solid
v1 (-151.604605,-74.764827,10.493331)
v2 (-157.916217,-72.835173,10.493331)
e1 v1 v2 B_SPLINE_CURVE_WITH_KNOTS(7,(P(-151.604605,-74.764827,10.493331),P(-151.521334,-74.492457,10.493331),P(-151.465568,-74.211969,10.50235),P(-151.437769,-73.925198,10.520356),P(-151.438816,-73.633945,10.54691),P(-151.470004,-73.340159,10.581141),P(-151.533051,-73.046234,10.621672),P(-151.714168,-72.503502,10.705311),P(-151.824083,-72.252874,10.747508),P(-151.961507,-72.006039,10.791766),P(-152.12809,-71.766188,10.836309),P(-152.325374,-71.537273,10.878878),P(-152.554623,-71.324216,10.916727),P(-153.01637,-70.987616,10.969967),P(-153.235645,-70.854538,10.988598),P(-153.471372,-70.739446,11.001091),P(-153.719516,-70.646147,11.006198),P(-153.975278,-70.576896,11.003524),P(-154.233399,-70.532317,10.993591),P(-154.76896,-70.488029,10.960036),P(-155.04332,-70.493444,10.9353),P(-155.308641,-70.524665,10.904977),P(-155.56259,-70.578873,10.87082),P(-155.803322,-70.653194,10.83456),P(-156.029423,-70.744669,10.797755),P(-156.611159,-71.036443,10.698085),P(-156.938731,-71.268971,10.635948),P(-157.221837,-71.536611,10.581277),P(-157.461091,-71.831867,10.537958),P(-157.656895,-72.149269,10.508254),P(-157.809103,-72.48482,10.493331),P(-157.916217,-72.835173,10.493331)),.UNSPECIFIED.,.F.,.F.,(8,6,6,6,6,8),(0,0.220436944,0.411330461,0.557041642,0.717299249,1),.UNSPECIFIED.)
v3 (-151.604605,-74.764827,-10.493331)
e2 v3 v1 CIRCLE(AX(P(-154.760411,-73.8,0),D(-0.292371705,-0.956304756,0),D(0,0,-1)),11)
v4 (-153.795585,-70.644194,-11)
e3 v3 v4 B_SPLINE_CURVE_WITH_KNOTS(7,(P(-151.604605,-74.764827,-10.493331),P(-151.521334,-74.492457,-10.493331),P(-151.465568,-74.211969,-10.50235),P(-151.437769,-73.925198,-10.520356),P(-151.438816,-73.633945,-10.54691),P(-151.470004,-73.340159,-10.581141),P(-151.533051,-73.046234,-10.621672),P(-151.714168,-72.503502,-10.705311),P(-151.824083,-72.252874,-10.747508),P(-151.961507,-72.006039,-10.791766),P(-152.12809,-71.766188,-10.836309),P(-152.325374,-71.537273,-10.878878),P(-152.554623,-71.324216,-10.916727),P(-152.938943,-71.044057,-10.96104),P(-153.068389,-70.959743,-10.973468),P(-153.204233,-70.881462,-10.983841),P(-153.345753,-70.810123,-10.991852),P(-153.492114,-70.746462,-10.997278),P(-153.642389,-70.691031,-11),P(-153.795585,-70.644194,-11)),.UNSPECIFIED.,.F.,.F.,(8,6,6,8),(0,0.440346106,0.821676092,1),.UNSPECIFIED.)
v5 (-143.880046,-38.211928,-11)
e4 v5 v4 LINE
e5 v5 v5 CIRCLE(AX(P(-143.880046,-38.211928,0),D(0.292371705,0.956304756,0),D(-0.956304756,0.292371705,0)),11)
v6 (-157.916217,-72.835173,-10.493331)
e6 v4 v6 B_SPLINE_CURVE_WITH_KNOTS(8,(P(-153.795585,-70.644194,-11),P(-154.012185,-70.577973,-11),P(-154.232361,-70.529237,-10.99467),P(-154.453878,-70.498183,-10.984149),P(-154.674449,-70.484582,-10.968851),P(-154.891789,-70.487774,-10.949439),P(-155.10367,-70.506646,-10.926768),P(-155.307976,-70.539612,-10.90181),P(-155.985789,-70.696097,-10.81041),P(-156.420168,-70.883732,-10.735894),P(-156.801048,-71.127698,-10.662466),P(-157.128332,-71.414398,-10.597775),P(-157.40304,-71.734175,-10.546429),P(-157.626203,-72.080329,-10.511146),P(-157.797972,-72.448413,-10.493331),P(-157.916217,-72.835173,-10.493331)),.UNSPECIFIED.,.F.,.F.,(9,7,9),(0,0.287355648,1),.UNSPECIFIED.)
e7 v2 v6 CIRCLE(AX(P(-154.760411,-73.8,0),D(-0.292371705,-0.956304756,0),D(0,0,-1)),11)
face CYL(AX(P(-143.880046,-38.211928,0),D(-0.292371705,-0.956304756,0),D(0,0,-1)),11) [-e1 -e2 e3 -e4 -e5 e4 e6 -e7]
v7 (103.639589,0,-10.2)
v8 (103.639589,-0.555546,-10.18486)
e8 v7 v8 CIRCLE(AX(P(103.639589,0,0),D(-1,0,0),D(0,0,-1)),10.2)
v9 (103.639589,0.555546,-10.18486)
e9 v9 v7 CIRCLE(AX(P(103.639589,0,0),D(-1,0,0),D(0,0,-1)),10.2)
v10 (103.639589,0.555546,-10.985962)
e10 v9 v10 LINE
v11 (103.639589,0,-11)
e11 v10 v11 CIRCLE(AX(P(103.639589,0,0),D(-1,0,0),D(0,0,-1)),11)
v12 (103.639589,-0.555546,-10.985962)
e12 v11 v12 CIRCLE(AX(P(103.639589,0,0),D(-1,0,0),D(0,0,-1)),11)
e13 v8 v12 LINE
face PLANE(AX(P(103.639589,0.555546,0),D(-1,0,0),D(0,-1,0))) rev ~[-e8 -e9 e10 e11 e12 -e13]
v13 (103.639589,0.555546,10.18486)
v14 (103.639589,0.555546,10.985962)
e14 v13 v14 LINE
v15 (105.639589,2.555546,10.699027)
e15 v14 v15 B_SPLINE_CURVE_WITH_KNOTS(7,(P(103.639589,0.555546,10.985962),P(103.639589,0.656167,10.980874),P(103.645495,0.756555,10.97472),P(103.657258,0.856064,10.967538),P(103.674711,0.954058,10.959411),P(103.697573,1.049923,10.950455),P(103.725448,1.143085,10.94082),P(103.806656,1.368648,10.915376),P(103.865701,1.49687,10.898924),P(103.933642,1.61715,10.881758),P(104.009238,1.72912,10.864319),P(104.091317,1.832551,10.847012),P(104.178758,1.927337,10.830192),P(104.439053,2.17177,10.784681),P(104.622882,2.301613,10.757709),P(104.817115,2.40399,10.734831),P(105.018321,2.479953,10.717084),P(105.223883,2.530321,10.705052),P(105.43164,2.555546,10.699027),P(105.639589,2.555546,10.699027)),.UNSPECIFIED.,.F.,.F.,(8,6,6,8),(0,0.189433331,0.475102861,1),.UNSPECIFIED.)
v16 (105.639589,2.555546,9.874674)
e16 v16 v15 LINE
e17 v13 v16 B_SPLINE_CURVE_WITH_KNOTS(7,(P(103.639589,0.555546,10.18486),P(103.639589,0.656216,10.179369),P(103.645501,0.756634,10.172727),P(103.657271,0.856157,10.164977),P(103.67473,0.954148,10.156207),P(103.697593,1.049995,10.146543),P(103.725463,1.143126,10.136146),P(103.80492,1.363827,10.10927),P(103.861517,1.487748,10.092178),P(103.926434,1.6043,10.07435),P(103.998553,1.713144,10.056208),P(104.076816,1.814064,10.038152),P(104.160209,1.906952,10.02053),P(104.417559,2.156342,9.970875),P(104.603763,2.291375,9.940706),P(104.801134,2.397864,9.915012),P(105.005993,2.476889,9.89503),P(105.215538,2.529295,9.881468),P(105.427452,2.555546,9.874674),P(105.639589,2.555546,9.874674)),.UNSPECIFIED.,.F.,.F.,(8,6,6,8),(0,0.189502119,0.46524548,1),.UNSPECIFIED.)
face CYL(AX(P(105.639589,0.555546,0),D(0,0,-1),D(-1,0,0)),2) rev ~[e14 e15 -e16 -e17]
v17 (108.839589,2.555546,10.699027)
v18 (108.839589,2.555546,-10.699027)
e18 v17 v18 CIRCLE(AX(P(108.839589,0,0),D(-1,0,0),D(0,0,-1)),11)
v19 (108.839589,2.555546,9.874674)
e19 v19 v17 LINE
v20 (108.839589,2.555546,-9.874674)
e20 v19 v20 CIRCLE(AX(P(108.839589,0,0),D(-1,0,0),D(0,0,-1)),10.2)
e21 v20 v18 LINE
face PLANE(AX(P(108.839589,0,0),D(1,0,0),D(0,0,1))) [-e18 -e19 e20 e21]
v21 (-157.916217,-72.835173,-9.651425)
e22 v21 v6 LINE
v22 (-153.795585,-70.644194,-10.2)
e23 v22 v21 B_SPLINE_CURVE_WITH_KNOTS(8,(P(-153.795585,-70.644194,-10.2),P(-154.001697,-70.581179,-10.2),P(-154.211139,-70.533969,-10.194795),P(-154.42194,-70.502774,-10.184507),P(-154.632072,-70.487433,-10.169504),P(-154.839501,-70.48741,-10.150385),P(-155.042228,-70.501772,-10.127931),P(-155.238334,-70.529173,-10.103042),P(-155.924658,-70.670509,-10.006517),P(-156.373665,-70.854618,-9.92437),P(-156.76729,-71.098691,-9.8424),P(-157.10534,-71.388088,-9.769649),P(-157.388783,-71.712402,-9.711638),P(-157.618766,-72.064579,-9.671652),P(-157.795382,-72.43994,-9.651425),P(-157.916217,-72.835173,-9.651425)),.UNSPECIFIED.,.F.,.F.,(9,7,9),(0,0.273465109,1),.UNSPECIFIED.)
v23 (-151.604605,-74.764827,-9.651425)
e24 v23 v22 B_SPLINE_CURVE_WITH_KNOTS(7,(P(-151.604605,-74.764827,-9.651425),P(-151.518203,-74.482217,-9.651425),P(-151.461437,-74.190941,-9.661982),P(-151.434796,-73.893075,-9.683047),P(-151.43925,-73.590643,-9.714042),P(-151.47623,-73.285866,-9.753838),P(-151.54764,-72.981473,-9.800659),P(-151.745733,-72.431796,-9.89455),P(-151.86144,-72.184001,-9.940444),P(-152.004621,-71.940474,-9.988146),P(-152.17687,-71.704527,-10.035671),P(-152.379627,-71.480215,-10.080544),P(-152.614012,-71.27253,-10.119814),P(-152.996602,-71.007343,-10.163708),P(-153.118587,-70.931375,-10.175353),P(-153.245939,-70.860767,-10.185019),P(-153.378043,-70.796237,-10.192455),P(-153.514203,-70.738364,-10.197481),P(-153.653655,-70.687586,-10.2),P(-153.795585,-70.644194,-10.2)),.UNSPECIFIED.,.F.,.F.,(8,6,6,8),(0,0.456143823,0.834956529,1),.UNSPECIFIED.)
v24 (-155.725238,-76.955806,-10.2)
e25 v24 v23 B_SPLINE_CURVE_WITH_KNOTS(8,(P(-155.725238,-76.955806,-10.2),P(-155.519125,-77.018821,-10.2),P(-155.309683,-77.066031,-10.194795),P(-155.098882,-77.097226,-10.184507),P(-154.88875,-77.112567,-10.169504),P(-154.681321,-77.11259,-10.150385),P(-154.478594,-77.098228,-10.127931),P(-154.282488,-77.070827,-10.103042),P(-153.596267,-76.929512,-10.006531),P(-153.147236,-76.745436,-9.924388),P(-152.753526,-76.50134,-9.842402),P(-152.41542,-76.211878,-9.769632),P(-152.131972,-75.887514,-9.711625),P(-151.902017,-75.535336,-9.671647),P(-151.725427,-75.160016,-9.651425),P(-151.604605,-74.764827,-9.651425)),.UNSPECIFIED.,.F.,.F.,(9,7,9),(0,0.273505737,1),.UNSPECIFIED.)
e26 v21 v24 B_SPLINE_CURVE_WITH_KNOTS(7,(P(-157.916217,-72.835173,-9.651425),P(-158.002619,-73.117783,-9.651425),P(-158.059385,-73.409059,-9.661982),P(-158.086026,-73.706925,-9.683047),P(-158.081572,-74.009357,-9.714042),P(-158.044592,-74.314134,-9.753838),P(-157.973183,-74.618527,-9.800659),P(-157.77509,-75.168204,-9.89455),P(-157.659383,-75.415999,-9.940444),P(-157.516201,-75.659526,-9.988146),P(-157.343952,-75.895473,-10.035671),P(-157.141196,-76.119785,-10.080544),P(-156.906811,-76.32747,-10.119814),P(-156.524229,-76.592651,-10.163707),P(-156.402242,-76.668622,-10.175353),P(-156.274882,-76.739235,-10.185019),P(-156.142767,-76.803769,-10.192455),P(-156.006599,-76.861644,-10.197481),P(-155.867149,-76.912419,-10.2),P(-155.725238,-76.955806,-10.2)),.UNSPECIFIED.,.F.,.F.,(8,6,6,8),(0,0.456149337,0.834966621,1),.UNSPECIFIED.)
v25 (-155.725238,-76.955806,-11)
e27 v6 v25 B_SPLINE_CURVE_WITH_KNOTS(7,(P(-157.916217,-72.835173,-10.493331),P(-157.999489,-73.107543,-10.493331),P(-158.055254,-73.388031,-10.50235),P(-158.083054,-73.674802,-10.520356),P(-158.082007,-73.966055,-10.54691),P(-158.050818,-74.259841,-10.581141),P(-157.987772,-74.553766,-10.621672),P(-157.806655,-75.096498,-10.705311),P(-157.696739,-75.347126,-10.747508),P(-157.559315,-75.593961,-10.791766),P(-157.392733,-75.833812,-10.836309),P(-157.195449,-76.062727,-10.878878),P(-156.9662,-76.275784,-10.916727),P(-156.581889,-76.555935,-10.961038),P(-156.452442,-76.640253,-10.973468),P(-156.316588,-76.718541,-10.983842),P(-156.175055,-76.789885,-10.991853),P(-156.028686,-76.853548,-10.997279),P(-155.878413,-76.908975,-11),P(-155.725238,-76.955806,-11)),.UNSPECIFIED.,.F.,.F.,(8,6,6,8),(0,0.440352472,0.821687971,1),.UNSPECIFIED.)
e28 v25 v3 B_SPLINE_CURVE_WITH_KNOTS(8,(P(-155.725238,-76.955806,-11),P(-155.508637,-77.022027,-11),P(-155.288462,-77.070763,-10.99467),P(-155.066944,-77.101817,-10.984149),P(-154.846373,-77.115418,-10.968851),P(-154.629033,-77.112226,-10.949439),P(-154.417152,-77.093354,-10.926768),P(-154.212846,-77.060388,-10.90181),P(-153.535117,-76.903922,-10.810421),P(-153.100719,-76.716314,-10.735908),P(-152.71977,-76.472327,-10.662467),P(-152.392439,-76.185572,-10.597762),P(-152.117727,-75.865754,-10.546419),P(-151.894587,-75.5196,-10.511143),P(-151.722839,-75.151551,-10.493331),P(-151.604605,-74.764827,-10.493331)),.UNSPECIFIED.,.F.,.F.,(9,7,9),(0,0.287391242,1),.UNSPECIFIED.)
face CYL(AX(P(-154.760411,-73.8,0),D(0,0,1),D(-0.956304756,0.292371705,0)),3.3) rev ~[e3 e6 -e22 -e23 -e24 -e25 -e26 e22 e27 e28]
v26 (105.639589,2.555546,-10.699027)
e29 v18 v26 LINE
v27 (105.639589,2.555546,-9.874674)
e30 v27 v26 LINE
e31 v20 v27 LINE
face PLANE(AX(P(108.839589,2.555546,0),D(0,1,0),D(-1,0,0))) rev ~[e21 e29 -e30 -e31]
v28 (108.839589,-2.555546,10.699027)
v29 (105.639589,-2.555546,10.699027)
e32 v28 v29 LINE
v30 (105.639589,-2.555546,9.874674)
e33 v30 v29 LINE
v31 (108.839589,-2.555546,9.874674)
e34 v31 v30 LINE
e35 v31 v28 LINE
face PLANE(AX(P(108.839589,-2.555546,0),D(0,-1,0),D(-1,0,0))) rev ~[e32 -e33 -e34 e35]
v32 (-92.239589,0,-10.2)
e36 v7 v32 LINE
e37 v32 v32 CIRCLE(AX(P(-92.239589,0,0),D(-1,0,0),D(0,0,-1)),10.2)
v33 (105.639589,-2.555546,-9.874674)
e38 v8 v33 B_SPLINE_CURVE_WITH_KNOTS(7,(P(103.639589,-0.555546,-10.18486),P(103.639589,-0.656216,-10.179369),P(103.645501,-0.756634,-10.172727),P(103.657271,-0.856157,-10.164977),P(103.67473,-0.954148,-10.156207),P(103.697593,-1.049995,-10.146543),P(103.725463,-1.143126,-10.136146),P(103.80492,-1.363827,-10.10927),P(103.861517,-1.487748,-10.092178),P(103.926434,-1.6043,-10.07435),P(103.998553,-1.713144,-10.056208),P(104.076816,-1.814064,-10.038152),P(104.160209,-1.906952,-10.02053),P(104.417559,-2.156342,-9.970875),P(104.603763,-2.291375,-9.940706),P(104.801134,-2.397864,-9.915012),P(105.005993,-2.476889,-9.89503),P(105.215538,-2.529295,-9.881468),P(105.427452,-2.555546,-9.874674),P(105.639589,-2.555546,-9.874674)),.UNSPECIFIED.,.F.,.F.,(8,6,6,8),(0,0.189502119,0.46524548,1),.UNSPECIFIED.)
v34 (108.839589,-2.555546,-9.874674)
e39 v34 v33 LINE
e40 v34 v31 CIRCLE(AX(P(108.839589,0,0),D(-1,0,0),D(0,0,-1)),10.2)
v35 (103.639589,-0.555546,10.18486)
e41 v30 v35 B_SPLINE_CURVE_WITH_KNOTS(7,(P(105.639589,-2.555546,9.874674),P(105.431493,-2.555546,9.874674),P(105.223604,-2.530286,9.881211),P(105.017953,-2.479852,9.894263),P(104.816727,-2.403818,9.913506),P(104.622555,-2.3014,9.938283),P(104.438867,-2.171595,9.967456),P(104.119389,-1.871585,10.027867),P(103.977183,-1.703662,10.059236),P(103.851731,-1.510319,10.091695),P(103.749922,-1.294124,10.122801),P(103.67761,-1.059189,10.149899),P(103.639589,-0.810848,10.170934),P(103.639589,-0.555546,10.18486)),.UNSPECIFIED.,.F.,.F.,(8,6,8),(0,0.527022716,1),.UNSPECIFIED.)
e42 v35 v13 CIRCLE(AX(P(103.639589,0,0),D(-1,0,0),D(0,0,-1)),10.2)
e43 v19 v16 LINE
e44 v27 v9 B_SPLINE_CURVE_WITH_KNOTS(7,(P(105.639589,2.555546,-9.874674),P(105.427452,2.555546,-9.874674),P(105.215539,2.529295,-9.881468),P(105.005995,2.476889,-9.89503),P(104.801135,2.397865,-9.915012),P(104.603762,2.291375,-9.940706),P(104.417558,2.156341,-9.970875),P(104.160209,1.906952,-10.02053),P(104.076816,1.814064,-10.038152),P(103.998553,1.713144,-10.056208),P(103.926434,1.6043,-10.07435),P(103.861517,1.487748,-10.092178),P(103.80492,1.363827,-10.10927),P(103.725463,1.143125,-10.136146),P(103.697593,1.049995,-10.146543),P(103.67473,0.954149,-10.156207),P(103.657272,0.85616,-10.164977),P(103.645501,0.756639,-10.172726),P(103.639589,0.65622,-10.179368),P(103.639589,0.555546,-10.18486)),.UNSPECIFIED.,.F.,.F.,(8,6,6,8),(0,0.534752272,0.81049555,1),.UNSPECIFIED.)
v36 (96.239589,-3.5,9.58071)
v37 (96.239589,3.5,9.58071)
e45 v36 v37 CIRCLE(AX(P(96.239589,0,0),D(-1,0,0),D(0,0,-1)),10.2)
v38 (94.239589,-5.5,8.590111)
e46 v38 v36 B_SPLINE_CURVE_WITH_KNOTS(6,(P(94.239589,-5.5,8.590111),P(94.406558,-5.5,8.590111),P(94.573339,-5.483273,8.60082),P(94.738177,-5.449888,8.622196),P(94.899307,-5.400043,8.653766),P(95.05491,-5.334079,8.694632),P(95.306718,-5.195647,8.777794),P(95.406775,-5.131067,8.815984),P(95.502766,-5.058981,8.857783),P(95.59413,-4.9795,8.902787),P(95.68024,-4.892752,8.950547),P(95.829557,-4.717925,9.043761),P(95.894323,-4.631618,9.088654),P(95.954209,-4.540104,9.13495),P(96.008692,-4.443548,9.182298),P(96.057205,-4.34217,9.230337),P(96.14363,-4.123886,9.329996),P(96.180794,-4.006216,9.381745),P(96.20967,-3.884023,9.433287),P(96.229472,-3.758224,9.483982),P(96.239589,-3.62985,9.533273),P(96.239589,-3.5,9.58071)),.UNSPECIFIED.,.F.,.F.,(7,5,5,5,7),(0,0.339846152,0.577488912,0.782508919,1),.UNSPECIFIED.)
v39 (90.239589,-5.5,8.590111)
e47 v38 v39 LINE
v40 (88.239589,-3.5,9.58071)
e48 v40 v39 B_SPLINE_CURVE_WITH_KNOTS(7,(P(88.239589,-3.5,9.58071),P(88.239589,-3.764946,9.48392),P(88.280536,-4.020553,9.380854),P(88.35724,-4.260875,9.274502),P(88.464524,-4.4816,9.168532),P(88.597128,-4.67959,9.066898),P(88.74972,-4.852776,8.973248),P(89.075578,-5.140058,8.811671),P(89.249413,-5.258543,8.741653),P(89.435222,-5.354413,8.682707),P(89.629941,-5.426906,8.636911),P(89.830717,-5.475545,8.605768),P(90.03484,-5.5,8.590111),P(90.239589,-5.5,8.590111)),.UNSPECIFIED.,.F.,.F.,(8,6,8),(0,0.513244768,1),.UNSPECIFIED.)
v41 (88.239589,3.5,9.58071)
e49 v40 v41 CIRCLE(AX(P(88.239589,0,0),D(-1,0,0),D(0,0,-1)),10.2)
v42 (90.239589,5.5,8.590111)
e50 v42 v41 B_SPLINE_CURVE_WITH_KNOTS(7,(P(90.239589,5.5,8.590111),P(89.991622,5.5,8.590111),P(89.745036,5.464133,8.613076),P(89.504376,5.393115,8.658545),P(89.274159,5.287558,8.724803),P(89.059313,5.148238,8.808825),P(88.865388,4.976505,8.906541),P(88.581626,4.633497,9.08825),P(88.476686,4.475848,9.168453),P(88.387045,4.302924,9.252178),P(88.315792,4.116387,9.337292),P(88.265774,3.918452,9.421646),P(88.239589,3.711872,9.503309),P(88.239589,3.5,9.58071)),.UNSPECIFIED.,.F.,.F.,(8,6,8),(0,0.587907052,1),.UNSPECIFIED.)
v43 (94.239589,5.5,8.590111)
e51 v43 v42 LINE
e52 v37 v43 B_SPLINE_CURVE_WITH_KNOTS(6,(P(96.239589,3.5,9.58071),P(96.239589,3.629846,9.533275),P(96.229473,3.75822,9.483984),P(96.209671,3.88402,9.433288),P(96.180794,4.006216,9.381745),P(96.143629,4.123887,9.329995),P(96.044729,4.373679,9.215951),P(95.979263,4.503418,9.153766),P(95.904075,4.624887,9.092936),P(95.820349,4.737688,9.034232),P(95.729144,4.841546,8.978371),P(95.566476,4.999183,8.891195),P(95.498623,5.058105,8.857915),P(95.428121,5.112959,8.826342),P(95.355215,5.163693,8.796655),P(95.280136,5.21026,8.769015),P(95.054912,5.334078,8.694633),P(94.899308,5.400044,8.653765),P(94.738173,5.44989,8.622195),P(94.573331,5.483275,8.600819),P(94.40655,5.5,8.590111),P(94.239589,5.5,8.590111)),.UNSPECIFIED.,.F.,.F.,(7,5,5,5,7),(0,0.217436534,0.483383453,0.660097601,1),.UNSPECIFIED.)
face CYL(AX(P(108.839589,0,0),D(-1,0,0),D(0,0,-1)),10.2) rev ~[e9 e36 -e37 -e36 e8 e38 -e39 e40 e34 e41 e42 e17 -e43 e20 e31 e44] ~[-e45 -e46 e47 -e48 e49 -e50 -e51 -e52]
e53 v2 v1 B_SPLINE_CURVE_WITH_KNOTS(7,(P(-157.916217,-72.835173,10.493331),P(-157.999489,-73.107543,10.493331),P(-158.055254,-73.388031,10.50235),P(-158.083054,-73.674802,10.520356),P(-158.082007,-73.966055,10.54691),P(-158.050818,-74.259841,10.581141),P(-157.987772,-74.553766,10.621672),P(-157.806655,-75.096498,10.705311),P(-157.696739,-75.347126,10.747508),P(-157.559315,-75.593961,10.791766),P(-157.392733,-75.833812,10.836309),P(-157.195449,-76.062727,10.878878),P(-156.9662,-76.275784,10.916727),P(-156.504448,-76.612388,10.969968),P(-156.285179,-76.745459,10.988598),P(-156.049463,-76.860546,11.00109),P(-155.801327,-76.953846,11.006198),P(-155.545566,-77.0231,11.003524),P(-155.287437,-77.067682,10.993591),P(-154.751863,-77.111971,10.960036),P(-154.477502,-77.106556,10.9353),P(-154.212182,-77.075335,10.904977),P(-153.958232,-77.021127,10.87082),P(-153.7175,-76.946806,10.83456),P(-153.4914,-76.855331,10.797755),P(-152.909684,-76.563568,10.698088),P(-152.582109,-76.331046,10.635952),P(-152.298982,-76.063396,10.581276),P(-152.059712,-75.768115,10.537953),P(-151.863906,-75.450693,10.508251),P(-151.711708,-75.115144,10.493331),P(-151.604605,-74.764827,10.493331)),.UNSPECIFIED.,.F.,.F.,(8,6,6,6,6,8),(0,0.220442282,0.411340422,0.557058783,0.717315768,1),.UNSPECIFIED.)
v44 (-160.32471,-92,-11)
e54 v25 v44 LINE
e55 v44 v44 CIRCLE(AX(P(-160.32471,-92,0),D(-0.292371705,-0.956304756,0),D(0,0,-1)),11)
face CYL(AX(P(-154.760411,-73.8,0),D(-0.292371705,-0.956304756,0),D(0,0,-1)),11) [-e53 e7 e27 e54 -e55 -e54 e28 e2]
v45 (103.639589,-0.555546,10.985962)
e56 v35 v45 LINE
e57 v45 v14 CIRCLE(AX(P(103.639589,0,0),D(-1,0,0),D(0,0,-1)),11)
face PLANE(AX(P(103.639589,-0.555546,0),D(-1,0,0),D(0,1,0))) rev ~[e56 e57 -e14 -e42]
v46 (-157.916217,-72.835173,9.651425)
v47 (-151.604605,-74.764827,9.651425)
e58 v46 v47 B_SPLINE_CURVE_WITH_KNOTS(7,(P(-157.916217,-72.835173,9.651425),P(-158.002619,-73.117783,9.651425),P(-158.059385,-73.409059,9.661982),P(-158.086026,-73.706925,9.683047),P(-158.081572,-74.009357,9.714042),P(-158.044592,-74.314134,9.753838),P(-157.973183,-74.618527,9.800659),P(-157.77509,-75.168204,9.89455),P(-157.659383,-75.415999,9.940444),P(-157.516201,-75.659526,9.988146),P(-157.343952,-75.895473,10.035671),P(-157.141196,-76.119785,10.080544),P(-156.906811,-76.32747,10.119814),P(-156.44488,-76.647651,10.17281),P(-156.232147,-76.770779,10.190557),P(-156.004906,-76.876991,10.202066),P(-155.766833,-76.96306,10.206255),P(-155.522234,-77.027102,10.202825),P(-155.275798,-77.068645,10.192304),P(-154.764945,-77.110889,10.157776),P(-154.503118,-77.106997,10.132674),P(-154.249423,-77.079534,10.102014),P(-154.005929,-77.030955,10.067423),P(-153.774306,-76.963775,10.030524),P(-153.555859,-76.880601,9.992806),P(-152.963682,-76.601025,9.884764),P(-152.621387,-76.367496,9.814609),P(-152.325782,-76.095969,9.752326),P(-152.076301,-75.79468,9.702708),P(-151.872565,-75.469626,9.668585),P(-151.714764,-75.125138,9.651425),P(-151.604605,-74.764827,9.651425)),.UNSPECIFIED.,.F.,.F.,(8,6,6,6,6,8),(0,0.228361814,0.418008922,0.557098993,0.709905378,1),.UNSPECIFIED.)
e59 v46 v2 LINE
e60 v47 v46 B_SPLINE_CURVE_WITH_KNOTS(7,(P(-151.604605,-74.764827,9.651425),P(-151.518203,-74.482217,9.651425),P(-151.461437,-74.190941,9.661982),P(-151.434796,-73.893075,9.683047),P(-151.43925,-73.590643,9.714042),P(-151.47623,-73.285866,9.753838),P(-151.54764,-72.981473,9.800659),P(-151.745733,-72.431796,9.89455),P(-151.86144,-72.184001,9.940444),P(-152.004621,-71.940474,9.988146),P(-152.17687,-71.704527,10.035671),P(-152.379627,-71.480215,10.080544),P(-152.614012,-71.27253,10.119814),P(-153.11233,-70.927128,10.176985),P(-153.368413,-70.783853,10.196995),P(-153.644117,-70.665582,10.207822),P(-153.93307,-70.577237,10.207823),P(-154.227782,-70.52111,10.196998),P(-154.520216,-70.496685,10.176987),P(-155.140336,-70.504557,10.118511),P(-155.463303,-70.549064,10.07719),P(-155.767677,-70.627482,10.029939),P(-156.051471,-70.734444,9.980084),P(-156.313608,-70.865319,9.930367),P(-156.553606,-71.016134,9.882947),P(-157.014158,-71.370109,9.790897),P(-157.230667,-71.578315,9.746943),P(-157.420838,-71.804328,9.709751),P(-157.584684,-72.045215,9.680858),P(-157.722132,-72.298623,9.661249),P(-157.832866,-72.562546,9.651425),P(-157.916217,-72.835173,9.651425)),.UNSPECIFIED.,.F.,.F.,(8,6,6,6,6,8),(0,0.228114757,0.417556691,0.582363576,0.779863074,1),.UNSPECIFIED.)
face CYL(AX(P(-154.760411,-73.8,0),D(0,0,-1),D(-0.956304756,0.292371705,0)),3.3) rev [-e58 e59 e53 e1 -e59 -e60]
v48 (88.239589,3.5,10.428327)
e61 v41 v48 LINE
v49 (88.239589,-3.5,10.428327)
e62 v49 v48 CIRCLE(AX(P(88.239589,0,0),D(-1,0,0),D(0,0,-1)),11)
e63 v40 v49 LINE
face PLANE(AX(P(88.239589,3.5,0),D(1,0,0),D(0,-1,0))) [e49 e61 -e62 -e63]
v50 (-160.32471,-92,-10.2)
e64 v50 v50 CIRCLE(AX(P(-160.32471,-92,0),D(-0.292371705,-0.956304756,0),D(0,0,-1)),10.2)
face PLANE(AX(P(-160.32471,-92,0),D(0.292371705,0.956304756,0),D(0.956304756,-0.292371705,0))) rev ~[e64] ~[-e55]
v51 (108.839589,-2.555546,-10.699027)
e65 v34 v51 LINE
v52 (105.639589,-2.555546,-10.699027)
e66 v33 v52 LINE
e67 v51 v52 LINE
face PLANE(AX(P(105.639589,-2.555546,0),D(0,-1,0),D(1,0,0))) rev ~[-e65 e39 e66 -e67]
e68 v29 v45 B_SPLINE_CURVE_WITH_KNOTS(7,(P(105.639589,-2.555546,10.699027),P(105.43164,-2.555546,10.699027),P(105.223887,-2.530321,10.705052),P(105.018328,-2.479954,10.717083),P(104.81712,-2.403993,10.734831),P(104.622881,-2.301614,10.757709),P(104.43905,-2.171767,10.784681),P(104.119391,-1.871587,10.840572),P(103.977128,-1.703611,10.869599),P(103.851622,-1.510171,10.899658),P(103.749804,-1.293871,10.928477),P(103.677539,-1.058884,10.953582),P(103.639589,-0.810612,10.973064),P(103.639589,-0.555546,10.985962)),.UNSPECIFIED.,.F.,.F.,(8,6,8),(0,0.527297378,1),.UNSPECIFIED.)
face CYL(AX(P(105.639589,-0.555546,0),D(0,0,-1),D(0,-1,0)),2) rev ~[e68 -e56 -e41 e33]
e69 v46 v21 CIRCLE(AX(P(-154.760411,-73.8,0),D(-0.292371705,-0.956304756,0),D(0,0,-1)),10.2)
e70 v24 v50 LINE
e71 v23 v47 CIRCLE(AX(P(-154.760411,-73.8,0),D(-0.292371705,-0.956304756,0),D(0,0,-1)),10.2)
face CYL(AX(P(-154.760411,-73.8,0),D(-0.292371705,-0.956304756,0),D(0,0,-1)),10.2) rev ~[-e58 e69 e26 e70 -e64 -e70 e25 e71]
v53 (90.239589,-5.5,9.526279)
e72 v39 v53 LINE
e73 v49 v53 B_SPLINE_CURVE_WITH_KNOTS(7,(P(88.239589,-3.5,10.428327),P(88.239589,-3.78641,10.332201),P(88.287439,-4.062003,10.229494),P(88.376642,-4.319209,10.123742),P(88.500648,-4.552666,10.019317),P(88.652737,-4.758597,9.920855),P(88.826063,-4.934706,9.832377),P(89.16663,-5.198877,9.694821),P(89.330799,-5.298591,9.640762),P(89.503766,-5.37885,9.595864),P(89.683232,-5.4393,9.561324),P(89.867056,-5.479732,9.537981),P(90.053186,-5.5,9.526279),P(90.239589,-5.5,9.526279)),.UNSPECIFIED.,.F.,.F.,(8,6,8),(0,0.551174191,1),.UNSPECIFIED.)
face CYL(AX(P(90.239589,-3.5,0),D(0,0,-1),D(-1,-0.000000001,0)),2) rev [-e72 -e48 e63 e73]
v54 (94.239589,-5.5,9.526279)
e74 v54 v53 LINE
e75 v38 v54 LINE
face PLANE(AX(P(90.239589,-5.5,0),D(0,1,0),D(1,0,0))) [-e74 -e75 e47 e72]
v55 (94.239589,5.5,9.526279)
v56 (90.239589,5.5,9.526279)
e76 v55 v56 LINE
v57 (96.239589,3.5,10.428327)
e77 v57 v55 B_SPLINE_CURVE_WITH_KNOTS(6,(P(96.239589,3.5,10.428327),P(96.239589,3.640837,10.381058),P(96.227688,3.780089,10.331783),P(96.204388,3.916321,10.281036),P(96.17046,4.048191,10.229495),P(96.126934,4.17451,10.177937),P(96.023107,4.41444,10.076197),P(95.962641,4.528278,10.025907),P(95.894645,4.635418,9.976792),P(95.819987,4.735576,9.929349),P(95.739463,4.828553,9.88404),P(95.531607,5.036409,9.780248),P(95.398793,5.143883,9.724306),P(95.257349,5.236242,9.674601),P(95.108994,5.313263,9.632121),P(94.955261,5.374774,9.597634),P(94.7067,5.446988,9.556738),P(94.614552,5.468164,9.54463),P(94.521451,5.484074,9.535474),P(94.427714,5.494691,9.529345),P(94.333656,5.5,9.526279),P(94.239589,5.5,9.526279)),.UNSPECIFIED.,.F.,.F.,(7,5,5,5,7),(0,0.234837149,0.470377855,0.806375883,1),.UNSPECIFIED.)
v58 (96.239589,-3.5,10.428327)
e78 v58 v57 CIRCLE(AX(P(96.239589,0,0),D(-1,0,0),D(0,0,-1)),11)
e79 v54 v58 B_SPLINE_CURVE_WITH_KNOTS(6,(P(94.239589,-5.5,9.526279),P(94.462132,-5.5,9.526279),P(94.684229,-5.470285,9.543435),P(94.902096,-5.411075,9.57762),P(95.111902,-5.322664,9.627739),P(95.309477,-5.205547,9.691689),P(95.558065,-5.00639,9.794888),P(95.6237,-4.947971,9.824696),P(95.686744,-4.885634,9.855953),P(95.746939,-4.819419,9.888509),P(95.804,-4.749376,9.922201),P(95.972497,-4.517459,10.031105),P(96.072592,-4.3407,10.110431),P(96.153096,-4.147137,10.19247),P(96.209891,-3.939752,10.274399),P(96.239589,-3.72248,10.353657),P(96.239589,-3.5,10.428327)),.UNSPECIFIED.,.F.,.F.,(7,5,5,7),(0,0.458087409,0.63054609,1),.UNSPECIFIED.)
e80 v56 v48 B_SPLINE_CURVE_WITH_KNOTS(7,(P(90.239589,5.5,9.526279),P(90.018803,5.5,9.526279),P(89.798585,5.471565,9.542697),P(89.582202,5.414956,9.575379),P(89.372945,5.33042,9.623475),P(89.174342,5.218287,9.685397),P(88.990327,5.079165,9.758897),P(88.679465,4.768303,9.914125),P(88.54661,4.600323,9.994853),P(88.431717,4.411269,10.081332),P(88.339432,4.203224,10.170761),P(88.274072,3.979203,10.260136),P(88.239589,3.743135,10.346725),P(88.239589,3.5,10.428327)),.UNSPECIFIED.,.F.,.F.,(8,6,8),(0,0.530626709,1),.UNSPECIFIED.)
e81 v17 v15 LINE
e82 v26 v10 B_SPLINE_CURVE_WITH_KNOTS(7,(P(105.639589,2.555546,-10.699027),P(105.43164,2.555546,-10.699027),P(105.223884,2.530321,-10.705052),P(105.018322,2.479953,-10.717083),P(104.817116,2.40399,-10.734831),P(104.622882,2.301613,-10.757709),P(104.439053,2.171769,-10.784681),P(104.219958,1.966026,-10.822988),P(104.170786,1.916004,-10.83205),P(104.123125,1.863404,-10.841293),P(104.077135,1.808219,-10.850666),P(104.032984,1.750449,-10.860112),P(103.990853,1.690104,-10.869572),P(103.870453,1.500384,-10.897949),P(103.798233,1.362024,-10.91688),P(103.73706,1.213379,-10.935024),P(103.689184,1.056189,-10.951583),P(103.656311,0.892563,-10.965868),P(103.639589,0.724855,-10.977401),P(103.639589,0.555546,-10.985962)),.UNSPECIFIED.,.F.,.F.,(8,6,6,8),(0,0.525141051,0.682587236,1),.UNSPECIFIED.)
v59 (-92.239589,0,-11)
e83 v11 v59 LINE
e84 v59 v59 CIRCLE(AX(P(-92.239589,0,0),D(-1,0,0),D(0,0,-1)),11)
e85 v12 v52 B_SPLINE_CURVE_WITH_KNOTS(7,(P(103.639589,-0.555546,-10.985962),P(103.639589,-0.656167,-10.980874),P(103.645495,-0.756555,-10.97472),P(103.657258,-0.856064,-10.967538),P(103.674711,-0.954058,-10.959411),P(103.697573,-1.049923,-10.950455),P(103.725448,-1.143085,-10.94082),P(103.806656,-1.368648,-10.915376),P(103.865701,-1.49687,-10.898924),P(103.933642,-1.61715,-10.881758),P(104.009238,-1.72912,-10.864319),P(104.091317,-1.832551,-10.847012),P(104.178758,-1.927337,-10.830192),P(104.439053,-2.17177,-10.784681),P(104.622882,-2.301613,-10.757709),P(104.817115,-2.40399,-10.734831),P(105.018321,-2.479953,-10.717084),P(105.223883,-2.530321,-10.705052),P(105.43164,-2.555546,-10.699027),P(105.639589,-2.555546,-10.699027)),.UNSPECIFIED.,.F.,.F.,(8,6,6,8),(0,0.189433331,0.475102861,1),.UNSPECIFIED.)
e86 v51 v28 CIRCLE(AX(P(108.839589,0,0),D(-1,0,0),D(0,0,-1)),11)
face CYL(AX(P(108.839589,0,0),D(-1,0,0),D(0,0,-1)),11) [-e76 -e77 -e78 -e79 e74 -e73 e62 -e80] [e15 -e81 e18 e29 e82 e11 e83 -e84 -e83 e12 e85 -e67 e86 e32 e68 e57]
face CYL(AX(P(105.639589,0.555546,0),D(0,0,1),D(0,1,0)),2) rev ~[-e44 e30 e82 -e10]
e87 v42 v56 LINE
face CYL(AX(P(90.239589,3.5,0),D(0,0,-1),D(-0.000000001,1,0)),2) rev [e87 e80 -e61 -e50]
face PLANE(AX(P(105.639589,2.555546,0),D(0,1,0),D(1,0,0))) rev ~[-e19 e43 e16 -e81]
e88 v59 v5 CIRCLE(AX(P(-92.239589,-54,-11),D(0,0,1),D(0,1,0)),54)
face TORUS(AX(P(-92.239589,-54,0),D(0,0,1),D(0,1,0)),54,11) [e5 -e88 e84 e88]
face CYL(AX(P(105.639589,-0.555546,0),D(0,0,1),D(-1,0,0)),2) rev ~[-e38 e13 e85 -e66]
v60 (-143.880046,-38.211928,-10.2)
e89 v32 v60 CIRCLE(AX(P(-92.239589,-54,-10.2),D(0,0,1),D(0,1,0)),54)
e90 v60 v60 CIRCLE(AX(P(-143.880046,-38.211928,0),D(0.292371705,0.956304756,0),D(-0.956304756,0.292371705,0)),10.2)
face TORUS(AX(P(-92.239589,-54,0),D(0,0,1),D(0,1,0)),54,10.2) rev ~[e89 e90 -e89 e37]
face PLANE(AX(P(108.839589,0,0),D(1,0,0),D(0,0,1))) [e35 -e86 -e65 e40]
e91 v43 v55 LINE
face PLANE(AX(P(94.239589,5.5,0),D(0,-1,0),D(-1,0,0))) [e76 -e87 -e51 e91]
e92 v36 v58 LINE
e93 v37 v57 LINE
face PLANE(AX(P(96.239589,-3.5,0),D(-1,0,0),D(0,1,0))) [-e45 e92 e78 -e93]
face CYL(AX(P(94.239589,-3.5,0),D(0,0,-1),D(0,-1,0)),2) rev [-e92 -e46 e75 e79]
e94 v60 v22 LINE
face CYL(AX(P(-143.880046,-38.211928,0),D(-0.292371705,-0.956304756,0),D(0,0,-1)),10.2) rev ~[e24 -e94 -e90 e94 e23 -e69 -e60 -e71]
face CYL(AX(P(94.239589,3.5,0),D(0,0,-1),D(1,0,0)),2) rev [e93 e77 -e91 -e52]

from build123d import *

# Parameters (mm, degrees)
SKETCH3_R          = 11
SKETCH3_R_2        = 10.2
CUT_EXTRUDE1_REACH = 197.895
SKETCH4_R          = 3.3
SKETCH5_R          = 3.3
CUT_EXTRUDE2_DEPTH = 196.894862351
CUT_EXTRUDE3_DEPTH = 196.894862351


with BuildPart() as part:
    # Sweep2: sweep along a path in Sketch1
    with BuildLine(Plane.XY) as sweep2_path:
        Line((108.839588828, 0), (92.239588828, 0))
        Line((92.239588828, 0), (-92.239588828, 0))
        ThreePointArc((-92.239588828, 0), (-124.360019313, -10.591729527), (-143.88004565, -38.211927945))
        Line((-143.88004565, -38.211927945), (-154.760411172, -73.8))
        Line((-154.760411172, -73.8), (-160.324709574, -92))
    # Sketch3 → Sweep2 (sweep)
    with BuildSketch(Plane(origin=(92.239588828, 0, 0), x_dir=(0, 0, -1), z_dir=(1, 0, 0))):
        Circle(SKETCH3_R)
        Circle(SKETCH3_R_2, mode=Mode.SUBTRACT)
    sweep(path=sweep2_path.line)

    # Sketch4 → Cut-Extrude1 (cut, up to next)
    with BuildSketch(Plane.XY, mode=Mode.PRIVATE) as cut_extrude1_sk1:
        with Locations((-154.760411172, -73.8)):
            Circle(SKETCH4_R)
    cut_extrude1_tool1 = extrude(cut_extrude1_sk1.sketch, amount=CUT_EXTRUDE1_REACH, mode=Mode.PRIVATE) & part.part
    # Sketch4 → Cut-Extrude1 (cut, up to next)
    with BuildSketch(Plane.XY, mode=Mode.PRIVATE) as cut_extrude1_sk2:
        with BuildLine():
            Line((108.839588828, 2.555545653), (108.839588828, -2.555545653))
            Line((108.839588828, -2.555545653), (105.639588828, -2.555545653))
            ThreePointArc((105.639588828, -2.555545653), (104.225375266, -1.969759216), (103.639588828, -0.555545653))
            Line((103.639588828, -0.555545653), (103.639588828, 0.555545653))
            ThreePointArc((103.639588828, 0.555545653), (104.225375266, 1.969759216), (105.639588828, 2.555545653))
            Line((105.639588828, 2.555545653), (108.839588828, 2.555545653))
        make_face()
    cut_extrude1_tool2 = extrude(cut_extrude1_sk2.sketch, amount=CUT_EXTRUDE1_REACH, mode=Mode.PRIVATE) & part.part
    # Sketch4 → Cut-Extrude1 (cut, up to next)
    with BuildSketch(Plane.XY, mode=Mode.PRIVATE) as cut_extrude1_sk3:
        with BuildLine():
            Line((90.239588828, -5.5), (94.239588828, -5.5))
            ThreePointArc((94.239588828, -5.5), (95.653802391, -4.914213562), (96.239588828, -3.5))
            Line((96.239588828, -3.5), (96.239588828, 3.5))
            ThreePointArc((96.239588828, 3.5), (95.653802391, 4.914213562), (94.239588828, 5.5))
            Line((94.239588828, 5.5), (90.239588828, 5.5))
            ThreePointArc((90.239588828, 5.5), (88.825375266, 4.914213562), (88.239588828, 3.5))
            Line((88.239588828, 3.5), (88.239588828, -3.5))
            ThreePointArc((88.239588828, -3.5), (88.825375266, -4.914213562), (90.239588828, -5.5))
        make_face()
    cut_extrude1_tool3 = extrude(cut_extrude1_sk3.sketch, amount=CUT_EXTRUDE1_REACH, mode=Mode.PRIVATE) & part.part
    add(cut_extrude1_tool1.solids().sort_by_distance((-154.760411, -73.8, 0))[0], mode=Mode.SUBTRACT)
    add(cut_extrude1_tool2.solids().sort_by_distance((106.388287, 0, 0))[0], mode=Mode.SUBTRACT)
    add(cut_extrude1_tool3.solids().sort_by_distance((92.239589, 0, 0))[0], mode=Mode.SUBTRACT)

    # Sketch5 → Cut-Extrude2 (cut, through all)
    with BuildSketch(Plane.XY):
        with Locations((-154.760411172, -73.8)):
            Circle(SKETCH5_R)
    extrude(amount=-CUT_EXTRUDE2_DEPTH, mode=Mode.SUBTRACT)

    # Sketch6 → Cut-Extrude3 (cut, through all)
    with BuildSketch(Plane.XY):
        with BuildLine():
            Line((108.839588828, 2.555545653), (105.639588828, 2.555545653))
            ThreePointArc((105.639588828, 2.555545653), (104.225375266, 1.969759216), (103.639588828, 0.555545653))
            Line((103.639588828, 0.555545653), (103.639588828, -0.555545653))
            ThreePointArc((103.639588828, -0.555545653), (104.225375266, -1.969759216), (105.639588828, -2.555545653))
            Line((105.639588828, -2.555545653), (108.839588828, -2.555545653))
            Line((108.839588828, -2.555545653), (108.839588828, 2.555545653))
        make_face()
    extrude(amount=-CUT_EXTRUDE3_DEPTH, mode=Mode.SUBTRACT)


solid = part.part
